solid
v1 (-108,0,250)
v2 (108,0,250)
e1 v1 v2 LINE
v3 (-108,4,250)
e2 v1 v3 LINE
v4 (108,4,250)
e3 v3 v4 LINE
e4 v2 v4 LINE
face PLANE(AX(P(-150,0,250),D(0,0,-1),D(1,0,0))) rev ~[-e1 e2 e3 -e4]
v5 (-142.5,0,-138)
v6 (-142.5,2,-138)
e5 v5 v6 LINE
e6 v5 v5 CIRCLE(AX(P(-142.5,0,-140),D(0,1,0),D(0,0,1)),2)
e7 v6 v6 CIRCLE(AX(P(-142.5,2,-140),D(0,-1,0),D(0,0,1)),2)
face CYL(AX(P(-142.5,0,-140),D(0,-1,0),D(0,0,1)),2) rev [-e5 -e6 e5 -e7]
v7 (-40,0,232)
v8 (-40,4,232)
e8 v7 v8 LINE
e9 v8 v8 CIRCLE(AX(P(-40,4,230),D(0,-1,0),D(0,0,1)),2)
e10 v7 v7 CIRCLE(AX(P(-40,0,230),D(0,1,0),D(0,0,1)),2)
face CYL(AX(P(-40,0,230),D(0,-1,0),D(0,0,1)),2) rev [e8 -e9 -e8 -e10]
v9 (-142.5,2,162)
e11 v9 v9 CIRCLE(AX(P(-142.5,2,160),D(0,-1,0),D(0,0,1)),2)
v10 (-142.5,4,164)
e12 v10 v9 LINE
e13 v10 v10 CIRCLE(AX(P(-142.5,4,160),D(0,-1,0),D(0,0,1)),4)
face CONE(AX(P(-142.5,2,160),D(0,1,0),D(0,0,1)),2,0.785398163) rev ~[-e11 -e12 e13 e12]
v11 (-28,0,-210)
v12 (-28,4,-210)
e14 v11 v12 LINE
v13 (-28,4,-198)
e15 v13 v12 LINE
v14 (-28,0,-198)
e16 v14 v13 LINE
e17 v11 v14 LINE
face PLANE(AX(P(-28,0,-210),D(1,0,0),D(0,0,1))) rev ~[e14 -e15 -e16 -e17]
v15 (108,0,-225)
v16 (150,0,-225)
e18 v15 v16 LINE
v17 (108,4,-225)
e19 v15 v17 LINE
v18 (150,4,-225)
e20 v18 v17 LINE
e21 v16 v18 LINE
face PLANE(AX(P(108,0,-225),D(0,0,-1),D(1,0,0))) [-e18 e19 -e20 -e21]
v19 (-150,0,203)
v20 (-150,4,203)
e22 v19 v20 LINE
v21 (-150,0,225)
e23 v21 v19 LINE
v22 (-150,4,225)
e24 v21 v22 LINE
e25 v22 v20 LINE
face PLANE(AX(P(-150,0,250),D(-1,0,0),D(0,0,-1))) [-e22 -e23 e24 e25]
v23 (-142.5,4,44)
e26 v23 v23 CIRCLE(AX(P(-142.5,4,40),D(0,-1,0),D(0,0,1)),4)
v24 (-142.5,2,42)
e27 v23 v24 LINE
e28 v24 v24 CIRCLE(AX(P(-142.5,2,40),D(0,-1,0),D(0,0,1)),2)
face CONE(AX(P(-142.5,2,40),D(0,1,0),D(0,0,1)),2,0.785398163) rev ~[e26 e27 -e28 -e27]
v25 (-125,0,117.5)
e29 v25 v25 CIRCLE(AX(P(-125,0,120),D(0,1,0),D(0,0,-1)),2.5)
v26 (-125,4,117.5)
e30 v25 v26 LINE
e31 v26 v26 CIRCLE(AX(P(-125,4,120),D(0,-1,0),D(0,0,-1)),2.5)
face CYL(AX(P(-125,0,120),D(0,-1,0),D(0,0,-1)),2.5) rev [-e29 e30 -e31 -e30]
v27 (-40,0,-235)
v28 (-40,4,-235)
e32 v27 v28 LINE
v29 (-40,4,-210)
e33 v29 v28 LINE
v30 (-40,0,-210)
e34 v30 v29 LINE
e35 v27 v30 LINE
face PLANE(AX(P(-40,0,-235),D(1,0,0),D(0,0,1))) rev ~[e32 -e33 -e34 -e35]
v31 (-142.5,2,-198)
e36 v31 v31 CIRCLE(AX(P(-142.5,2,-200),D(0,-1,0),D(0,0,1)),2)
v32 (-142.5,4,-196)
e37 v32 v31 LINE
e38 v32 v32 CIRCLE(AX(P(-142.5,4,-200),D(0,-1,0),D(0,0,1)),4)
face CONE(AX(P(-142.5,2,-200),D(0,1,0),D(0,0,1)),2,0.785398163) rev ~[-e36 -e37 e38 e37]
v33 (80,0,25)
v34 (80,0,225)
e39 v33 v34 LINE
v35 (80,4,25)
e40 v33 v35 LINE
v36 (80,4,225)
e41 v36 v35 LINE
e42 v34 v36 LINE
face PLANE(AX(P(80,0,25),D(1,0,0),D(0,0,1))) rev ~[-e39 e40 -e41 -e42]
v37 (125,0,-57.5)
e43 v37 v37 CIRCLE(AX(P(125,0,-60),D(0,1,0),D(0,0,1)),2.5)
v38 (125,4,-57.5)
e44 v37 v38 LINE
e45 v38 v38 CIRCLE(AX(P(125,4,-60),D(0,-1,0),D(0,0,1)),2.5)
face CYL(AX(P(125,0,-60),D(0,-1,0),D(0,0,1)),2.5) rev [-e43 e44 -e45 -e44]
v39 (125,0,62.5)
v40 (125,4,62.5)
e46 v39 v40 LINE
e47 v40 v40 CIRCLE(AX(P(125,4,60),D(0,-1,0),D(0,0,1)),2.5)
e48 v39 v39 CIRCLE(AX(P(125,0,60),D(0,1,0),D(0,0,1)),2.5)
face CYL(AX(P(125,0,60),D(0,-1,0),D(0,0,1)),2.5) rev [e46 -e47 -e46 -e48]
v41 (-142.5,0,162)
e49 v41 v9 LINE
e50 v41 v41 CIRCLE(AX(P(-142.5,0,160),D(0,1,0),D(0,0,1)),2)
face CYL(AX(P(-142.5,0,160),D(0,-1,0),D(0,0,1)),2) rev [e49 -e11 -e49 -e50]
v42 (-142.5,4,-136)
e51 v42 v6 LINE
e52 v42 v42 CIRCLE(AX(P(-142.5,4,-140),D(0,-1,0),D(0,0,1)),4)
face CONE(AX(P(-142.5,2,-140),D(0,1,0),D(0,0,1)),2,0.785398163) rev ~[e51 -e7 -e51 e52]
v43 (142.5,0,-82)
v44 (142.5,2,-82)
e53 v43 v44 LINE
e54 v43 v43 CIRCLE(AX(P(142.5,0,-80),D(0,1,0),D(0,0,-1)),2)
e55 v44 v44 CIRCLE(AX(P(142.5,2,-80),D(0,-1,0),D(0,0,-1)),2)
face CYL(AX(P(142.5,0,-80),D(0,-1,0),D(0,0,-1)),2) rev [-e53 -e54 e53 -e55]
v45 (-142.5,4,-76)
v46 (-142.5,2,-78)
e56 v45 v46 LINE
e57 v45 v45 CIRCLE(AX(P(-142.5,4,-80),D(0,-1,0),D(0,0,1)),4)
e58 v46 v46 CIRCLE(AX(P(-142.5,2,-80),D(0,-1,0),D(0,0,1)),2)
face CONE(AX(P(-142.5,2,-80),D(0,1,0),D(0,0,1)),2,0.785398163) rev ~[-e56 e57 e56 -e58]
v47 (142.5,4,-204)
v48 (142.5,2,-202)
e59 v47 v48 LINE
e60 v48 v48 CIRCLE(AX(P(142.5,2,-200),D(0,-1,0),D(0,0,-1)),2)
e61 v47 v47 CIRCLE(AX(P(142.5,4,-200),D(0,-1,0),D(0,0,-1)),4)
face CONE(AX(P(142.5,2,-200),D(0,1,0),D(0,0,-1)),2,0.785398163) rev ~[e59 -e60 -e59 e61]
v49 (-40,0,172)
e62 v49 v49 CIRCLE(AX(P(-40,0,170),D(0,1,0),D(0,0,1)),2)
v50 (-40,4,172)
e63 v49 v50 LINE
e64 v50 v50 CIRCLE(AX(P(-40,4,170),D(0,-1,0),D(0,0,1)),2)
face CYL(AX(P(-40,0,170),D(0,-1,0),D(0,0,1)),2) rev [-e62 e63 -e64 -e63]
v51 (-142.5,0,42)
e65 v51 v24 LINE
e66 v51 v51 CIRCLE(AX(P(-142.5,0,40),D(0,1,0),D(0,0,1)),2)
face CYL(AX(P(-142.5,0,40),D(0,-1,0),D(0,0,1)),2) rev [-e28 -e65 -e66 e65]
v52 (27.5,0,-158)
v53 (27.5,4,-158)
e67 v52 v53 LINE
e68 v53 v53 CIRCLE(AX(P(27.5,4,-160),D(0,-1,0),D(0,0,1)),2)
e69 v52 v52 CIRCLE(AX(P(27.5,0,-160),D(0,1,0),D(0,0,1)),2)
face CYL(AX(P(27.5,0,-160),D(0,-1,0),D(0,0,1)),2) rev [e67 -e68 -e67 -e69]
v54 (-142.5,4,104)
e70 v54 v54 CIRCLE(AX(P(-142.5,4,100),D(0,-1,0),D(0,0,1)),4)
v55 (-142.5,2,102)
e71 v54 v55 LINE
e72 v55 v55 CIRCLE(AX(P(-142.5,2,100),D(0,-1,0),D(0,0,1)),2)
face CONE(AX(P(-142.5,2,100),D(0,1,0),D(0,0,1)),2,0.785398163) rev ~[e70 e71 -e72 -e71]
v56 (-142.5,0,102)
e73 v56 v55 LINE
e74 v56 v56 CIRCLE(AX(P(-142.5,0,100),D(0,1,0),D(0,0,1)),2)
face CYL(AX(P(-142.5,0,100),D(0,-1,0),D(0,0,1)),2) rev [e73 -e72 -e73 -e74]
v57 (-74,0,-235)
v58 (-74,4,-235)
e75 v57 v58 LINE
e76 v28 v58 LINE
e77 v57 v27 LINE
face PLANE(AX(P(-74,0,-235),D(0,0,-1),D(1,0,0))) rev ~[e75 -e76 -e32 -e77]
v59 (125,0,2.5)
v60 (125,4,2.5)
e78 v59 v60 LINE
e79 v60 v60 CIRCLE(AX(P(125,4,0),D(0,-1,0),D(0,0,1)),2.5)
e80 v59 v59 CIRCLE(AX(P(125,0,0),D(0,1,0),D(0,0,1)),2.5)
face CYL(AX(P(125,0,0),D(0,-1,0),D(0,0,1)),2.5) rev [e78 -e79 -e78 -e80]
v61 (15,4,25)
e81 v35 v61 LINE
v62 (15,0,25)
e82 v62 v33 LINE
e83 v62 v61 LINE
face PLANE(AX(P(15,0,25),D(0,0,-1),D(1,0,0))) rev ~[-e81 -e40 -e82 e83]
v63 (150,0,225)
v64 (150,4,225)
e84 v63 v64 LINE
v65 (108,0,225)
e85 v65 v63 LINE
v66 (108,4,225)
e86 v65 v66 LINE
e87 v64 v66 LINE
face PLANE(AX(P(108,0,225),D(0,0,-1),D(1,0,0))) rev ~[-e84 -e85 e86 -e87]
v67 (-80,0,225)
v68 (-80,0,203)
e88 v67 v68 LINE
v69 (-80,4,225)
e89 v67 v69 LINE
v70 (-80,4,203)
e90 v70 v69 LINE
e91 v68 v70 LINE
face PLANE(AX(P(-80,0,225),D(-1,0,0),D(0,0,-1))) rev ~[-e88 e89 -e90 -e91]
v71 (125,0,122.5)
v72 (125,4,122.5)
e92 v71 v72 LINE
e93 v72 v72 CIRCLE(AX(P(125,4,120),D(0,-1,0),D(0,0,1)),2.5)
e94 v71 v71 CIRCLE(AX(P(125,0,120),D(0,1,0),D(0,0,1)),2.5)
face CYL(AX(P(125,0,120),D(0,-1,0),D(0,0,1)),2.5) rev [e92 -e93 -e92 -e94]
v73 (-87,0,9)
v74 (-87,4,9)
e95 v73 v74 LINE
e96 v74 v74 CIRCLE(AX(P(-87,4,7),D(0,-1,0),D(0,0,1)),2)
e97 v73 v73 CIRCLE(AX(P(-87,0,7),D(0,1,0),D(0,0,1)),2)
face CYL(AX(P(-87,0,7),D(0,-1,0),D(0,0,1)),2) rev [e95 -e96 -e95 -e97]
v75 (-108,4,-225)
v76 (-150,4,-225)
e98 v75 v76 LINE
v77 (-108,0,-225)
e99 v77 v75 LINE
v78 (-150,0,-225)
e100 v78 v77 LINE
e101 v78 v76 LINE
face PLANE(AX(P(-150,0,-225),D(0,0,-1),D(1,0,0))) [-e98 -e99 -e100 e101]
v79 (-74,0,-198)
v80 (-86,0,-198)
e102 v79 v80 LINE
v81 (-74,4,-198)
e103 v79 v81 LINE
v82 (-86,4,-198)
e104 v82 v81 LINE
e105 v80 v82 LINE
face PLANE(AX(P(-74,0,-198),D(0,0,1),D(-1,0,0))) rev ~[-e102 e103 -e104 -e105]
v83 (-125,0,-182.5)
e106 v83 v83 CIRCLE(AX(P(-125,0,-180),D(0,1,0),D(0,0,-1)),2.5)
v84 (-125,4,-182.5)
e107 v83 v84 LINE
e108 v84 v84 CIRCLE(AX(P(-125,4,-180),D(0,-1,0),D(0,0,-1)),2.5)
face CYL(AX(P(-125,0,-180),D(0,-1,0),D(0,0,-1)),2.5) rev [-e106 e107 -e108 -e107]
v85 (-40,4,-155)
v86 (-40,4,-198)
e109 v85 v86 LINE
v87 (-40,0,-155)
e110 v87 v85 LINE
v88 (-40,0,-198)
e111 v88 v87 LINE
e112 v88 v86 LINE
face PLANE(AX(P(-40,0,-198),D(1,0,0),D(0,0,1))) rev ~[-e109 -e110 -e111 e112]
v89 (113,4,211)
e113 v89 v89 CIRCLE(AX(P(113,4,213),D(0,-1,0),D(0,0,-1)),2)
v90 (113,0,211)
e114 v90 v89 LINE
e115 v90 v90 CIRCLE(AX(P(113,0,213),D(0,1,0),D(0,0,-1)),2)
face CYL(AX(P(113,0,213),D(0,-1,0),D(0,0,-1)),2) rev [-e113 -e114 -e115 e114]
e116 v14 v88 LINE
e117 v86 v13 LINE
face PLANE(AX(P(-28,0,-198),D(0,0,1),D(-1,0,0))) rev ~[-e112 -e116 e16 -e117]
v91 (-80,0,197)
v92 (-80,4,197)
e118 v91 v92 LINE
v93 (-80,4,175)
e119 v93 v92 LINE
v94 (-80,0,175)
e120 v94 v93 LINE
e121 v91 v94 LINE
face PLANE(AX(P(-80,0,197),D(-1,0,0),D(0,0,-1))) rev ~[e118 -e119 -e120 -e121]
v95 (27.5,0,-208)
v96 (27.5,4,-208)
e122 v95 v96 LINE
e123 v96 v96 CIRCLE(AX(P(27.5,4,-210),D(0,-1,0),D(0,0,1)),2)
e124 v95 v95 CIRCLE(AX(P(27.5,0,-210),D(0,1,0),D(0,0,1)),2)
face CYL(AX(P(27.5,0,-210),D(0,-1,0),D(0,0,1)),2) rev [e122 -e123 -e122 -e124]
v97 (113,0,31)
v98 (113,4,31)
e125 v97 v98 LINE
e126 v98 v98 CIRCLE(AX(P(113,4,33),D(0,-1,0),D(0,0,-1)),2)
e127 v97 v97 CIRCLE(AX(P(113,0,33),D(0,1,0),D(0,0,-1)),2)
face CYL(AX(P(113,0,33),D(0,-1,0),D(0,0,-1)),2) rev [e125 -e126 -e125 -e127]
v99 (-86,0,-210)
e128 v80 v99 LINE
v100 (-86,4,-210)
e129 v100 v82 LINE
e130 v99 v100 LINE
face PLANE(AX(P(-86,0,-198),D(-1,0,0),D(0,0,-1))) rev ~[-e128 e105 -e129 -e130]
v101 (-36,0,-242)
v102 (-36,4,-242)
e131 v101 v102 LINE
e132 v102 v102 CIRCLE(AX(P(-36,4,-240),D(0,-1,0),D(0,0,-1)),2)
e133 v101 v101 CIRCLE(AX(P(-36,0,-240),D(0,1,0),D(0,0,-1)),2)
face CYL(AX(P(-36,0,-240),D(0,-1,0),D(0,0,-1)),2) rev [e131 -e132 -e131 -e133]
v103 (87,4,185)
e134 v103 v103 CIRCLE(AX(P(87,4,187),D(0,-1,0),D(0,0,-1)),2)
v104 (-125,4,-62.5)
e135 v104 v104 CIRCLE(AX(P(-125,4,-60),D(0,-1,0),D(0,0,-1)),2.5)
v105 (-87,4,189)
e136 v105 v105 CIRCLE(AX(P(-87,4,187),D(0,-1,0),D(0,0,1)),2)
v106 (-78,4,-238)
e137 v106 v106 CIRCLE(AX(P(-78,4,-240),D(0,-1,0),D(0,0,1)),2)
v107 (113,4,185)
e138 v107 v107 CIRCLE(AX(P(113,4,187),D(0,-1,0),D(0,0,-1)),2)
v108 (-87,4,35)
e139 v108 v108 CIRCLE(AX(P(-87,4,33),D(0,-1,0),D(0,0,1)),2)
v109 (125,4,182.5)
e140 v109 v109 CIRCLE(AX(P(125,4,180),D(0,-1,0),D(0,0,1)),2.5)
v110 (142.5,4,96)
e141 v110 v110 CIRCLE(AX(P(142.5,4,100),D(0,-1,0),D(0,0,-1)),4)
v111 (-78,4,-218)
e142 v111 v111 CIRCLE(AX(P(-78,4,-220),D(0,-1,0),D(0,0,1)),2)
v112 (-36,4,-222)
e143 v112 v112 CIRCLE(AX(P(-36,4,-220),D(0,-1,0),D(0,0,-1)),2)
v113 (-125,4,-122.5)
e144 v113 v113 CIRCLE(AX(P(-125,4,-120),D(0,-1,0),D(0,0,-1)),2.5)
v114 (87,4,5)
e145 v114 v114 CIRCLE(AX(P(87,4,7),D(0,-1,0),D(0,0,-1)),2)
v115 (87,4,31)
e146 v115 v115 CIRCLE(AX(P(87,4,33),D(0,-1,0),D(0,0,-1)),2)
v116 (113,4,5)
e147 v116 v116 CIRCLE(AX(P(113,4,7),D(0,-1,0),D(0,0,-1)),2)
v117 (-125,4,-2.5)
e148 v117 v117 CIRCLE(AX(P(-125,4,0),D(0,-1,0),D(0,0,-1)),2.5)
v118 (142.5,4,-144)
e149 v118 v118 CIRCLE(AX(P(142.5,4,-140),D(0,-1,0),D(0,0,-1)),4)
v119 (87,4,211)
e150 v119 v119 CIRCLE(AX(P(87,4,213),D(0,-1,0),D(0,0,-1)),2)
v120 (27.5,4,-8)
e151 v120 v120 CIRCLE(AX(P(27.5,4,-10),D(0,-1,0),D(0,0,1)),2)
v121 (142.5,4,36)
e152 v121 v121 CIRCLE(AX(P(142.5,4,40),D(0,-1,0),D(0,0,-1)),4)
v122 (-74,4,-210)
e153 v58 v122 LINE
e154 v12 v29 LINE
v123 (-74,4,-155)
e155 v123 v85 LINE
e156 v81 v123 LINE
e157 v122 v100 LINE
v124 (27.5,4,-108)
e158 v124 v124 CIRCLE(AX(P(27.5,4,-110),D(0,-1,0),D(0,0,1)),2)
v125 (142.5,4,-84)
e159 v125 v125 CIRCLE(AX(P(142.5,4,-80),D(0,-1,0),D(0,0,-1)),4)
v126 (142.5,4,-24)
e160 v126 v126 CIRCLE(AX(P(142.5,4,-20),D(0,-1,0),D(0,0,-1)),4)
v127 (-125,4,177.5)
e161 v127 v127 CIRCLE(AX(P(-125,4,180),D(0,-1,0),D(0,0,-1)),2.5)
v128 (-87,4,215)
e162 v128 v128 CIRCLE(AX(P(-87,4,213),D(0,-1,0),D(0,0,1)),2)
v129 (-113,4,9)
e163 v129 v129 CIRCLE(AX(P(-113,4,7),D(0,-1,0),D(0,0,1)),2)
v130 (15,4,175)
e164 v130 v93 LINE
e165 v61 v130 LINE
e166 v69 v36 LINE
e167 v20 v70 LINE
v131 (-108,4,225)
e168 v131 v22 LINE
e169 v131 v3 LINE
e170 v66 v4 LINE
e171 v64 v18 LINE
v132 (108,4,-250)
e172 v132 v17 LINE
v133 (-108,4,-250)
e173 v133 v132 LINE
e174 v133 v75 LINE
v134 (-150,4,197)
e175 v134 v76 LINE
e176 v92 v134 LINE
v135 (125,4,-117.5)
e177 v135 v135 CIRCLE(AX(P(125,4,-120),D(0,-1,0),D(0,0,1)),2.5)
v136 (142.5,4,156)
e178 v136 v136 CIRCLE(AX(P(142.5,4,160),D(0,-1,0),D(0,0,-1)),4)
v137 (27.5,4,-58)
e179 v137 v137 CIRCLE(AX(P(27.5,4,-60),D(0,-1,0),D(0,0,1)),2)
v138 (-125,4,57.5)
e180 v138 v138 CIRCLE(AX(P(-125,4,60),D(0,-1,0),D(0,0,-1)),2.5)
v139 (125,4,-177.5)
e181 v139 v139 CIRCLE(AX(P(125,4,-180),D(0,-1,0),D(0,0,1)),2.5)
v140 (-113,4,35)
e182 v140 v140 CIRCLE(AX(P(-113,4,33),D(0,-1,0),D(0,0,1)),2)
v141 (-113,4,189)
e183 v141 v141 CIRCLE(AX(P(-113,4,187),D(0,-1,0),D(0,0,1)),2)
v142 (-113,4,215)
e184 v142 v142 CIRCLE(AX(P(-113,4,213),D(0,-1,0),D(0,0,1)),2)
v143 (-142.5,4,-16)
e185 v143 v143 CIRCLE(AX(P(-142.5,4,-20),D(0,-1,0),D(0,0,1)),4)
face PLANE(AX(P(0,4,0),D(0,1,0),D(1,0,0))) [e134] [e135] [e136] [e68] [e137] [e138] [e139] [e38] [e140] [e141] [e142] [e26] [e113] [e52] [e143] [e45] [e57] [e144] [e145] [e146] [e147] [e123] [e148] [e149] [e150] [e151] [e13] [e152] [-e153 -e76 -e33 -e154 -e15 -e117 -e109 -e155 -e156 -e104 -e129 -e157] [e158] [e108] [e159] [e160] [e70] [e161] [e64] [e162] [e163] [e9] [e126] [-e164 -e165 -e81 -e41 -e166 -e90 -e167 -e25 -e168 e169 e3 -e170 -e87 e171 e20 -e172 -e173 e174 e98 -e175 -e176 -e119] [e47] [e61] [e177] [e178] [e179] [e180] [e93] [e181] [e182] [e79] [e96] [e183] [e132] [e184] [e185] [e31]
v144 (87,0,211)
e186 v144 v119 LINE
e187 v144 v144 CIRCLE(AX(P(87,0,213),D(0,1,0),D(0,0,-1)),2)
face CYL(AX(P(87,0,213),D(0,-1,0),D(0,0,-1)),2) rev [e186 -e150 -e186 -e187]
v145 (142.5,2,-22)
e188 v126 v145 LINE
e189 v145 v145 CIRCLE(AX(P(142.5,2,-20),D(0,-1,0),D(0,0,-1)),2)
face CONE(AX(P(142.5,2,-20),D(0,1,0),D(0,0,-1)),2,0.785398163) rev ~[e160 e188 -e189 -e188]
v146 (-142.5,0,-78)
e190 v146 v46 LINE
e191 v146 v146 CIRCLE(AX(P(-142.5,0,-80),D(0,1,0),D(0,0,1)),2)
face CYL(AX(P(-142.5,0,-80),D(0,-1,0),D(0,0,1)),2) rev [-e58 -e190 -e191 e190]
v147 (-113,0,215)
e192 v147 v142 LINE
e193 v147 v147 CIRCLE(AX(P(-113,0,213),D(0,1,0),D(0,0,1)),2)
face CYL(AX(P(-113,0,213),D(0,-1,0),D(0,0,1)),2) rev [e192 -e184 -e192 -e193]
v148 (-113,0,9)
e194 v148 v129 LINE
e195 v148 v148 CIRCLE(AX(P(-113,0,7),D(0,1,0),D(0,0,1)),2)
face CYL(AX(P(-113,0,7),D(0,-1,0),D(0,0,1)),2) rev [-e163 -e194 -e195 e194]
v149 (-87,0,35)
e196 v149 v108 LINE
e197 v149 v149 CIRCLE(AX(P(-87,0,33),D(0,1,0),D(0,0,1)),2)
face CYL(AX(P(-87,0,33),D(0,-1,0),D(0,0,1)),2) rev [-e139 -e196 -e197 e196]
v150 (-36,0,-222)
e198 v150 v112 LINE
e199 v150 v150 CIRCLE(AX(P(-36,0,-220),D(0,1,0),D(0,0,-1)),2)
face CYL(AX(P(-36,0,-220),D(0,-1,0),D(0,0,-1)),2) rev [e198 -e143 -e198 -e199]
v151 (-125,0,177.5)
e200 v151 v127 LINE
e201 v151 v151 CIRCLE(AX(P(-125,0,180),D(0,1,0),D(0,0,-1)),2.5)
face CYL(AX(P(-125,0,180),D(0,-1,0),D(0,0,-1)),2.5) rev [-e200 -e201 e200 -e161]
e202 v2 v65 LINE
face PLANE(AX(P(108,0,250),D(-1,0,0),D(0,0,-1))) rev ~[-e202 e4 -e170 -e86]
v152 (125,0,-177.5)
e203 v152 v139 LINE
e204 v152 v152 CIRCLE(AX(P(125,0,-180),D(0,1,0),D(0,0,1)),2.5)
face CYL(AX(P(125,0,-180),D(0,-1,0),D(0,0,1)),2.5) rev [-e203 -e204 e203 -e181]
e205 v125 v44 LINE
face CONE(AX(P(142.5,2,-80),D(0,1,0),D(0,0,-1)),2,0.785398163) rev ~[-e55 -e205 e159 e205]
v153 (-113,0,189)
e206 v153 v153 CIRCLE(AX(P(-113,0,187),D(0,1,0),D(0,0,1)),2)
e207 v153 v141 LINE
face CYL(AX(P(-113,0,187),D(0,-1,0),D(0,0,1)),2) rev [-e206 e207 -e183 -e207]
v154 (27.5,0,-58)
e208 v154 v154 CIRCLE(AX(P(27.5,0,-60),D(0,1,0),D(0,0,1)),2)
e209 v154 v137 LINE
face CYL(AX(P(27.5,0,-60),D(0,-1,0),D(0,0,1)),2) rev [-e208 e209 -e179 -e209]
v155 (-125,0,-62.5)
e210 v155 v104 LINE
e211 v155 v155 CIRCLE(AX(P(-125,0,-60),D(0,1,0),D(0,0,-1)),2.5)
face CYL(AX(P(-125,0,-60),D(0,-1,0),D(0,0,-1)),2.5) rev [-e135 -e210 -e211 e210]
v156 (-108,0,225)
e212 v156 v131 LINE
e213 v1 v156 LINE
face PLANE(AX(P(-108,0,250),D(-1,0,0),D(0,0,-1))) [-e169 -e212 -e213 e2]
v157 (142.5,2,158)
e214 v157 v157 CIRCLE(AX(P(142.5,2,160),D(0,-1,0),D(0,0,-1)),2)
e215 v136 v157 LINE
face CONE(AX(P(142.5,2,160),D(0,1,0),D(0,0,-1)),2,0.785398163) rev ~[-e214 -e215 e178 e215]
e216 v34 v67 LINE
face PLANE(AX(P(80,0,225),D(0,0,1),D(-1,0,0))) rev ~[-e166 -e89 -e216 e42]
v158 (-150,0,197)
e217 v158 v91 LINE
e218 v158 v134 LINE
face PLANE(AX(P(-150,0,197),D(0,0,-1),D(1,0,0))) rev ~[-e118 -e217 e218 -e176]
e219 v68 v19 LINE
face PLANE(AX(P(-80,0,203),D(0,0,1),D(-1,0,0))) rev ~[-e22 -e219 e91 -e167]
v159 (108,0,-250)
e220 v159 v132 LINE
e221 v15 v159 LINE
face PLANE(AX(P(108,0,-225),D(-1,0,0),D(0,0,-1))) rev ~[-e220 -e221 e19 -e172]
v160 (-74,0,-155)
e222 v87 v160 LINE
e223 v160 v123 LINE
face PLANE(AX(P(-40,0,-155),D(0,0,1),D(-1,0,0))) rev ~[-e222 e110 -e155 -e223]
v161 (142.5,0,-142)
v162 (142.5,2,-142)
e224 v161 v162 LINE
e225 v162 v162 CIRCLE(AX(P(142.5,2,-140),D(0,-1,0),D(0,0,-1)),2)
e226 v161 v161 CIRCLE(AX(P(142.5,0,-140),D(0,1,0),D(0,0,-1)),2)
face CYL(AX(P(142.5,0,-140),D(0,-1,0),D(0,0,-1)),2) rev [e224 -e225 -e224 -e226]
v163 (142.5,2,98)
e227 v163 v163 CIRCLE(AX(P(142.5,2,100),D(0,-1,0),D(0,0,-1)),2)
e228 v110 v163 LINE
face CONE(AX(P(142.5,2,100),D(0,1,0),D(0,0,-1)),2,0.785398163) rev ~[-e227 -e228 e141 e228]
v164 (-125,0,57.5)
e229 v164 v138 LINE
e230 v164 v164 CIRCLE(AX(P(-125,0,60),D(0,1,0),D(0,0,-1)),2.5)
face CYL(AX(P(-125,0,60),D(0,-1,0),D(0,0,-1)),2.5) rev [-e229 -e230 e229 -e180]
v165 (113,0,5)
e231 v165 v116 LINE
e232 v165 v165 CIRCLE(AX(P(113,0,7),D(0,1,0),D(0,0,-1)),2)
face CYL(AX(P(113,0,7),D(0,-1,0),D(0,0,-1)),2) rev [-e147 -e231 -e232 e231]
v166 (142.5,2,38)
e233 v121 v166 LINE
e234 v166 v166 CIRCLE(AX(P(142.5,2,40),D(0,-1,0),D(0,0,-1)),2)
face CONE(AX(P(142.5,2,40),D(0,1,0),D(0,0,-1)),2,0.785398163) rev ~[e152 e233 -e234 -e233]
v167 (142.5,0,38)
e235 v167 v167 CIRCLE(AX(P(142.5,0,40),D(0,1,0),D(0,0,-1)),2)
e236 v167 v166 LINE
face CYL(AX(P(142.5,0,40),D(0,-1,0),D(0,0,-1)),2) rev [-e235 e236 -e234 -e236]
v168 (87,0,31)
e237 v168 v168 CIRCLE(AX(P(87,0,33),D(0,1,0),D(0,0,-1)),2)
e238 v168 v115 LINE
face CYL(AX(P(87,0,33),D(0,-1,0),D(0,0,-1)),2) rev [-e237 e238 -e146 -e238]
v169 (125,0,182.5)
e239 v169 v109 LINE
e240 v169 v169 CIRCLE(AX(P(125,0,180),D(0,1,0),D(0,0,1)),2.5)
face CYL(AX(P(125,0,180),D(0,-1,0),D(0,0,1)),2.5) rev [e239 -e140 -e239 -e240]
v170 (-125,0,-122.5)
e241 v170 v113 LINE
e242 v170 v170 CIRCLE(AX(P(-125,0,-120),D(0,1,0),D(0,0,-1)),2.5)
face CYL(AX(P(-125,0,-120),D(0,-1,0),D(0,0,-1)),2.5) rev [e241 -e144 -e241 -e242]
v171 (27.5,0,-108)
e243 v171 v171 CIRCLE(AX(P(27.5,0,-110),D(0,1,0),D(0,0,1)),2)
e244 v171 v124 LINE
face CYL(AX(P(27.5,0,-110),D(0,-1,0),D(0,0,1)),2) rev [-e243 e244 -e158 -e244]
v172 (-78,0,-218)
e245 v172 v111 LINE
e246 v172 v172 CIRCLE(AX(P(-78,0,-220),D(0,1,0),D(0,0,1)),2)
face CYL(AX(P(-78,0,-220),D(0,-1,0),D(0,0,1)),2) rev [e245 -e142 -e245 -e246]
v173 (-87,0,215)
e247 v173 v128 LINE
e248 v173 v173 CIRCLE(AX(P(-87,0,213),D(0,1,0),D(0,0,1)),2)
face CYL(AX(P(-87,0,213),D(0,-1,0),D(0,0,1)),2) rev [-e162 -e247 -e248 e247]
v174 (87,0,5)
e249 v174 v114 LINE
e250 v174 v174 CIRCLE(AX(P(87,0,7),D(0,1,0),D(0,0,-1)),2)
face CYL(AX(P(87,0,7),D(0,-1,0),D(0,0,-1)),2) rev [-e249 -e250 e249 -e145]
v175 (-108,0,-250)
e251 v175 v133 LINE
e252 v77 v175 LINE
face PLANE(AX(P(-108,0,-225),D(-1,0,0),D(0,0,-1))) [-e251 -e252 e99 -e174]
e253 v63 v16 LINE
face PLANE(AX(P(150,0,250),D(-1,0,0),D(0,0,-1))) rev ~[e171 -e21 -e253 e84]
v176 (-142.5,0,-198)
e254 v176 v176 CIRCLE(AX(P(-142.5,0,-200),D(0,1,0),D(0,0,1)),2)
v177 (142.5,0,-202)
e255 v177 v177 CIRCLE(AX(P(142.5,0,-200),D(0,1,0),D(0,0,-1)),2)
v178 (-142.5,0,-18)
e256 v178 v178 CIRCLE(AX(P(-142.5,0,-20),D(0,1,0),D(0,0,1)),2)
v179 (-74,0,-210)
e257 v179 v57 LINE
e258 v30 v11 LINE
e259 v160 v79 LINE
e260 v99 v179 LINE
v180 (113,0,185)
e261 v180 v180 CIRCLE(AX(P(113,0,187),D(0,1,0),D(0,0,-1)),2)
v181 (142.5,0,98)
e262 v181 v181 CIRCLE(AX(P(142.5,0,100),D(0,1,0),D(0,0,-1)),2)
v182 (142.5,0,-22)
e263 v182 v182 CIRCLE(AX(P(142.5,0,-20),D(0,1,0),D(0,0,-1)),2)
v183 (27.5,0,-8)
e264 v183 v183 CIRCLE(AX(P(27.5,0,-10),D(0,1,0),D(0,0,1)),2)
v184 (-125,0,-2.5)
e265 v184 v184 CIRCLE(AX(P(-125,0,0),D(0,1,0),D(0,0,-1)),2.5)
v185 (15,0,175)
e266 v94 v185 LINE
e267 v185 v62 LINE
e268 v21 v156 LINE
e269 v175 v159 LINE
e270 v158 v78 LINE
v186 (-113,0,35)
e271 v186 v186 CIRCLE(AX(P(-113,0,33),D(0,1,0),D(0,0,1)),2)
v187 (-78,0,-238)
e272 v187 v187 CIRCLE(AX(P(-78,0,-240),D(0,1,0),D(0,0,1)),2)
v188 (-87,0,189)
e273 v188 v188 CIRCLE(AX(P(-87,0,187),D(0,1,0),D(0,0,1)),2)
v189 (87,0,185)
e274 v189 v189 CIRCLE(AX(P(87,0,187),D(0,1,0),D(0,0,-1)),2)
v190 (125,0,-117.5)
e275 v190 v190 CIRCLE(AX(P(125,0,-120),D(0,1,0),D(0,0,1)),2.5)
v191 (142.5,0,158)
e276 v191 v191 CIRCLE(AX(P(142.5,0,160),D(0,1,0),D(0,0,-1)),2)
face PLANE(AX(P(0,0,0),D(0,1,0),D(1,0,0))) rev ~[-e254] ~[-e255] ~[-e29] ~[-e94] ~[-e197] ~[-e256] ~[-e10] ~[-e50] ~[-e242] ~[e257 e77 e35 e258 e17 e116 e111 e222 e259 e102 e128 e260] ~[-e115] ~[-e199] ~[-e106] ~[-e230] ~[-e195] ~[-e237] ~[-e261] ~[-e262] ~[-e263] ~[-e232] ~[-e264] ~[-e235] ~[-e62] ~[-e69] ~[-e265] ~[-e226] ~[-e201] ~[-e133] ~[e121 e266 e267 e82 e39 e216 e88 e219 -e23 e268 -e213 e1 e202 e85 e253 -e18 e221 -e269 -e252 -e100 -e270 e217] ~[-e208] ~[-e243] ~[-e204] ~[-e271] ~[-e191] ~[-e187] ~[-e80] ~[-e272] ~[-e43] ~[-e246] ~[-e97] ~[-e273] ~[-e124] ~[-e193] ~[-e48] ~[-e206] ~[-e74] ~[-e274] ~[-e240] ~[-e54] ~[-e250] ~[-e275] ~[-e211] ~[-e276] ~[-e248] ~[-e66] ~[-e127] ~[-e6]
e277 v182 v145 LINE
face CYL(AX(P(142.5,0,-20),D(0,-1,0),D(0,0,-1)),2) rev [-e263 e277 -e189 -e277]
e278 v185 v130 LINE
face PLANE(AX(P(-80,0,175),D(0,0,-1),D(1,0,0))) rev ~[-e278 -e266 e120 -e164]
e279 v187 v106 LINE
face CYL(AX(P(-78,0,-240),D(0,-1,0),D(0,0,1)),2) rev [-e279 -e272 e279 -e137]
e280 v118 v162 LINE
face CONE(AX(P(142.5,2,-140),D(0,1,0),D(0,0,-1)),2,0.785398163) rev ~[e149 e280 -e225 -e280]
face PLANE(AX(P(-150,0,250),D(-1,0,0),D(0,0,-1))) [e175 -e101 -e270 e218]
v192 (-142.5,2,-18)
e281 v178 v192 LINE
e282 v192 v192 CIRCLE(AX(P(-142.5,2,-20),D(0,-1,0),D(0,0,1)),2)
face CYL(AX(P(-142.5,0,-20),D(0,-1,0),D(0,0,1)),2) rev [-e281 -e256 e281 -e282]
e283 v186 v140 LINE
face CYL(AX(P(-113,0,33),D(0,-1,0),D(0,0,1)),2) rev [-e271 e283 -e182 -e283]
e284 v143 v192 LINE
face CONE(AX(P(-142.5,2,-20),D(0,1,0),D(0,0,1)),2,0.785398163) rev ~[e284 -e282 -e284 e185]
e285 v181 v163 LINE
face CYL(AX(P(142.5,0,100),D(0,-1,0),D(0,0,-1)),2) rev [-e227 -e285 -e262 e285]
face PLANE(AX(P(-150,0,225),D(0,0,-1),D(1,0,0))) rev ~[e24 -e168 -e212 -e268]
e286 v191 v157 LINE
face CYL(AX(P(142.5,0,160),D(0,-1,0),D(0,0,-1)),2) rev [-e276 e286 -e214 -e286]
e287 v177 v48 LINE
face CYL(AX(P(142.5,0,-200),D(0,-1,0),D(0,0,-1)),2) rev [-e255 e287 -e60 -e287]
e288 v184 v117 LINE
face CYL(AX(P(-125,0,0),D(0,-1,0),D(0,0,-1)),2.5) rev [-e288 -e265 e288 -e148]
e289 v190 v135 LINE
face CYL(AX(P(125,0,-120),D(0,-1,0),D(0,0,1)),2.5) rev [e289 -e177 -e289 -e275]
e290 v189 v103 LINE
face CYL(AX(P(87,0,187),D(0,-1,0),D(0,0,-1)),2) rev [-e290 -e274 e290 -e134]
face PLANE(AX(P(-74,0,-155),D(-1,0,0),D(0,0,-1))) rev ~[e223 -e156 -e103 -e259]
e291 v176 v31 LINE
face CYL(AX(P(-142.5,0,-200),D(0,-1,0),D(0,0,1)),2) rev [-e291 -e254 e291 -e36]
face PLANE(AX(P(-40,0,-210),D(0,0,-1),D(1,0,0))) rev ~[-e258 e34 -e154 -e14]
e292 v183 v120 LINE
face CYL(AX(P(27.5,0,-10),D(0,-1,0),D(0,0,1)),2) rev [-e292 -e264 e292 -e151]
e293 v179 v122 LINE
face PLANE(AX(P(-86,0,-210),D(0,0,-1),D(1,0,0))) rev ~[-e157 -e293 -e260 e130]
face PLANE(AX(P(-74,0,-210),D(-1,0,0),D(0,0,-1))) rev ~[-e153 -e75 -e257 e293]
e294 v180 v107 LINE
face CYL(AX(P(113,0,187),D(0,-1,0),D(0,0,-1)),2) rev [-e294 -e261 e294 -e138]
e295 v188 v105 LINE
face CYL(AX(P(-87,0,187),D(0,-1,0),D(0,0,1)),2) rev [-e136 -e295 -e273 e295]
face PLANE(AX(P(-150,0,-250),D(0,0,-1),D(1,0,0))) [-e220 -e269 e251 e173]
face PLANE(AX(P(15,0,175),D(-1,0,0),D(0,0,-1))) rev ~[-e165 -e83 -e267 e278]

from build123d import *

# Parameters (mm, degrees)
SKETCH_1_W          = 300
SKETCH_1_H          = 500
EXTRUDE_1_DEPTH     = 4
SKETCH_2_R          = 2.5
CUT_EXTRUDE_5_DEPTH = 292.575033225
SKETCH_4_R          = 2
SKETCH_4_W          = 42
SKETCH_4_H          = 25
CUT_EXTRUDE_4_DEPTH = 292.575033225
SKETCH_5_R          = 2
CUT_EXTRUDE_6_DEPTH = 10
SKETCH_3_R          = 2
CUT_EXTRUDE_2_DEPTH = 292.575033225
CHAMFER_1_SIZE      = 2


with BuildPart() as part:
    # 草图1 → 凸台-拉伸1 (new body)
    with BuildSketch(Plane(origin=(0, 0, 0), x_dir=(1, 0, 0), z_dir=(0, 1, 0))):
        Rectangle(SKETCH_1_W, SKETCH_1_H)
    extrude(amount=EXTRUDE_1_DEPTH)

    # 草图2 → 切除-拉伸5 (cut, through all)
    with BuildSketch(Plane(origin=(0, 0, 0), x_dir=(1, 0, 0), z_dir=(0, 1, 0))):
        with Locations(Location((125, -180, 0), (0, 0, 270))):
            Circle(SKETCH_2_R)
        with Locations(Location((125, -120, 0), (0, 0, 270))):
            Circle(SKETCH_2_R)
        with Locations(Location((125, -60, 0), (0, 0, 270))):
            Circle(SKETCH_2_R)
        with Locations(Location((125, 0, 0), (0, 0, 270))):
            Circle(SKETCH_2_R)
        with Locations(Location((125, 60, 0), (0, 0, 270))):
            Circle(SKETCH_2_R)
        with Locations(Location((125, 120, 0), (0, 0, 270))):
            Circle(SKETCH_2_R)
        with Locations(Location((125, 180, 0), (0, 0, 270))):
            Circle(SKETCH_2_R)
        with Locations(Location((-125, 180, 0), (0, 0, 90))):
            Circle(SKETCH_2_R)
        with Locations(Location((-125, 120, 0), (0, 0, 90))):
            Circle(SKETCH_2_R)
        with Locations(Location((-125, 60, 0), (0, 0, 90))):
            Circle(SKETCH_2_R)
        with Locations(Location((-125, 0, 0), (0, 0, 90))):
            Circle(SKETCH_2_R)
        with Locations(Location((-125, -60, 0), (0, 0, 90))):
            Circle(SKETCH_2_R)
        with Locations(Location((-125, -120, 0), (0, 0, 90))):
            Circle(SKETCH_2_R)
        with Locations(Location((-125, -180, 0), (0, 0, 90))):
            Circle(SKETCH_2_R)
    extrude(amount=CUT_EXTRUDE_5_DEPTH, mode=Mode.SUBTRACT)

    # 草图4 → 切除-拉伸4 (cut, through all)
    with BuildSketch(Plane(origin=(0, 0, 0), x_dir=(1, 0, 0), z_dir=(0, 1, 0))):
        with Locations(Location((-78, 240, 0), (0, 0, 270))):
            Circle(SKETCH_4_R)
        with Locations(Location((-78, 220, 0), (0, 0, 270))):
            Circle(SKETCH_4_R)
        with Locations(Location((-36, 220, 0), (0, 0, 90))):
            Circle(SKETCH_4_R)
        with Locations(Location((-36, 240, 0), (0, 0, 90))):
            Circle(SKETCH_4_R)
        Polygon((-80, -175), (15, -175), (15, -25), (80, -25), (80, -225), (-80, -225), (-80, -203), (-150, -203), (-150, -197), (-80, -197), align=None)
        Polygon((-74, 235), (-40, 235), (-40, 210), (-28, 210), (-28, 198), (-40, 198), (-40, 155), (-74, 155), (-74, 198), (-86, 198), (-86, 210), (-74, 210), align=None)
        with Locations((129, 237.5)):
            Rectangle(SKETCH_4_W, SKETCH_4_H)
        with Locations((-129, 237.5)):
            Rectangle(SKETCH_4_W, SKETCH_4_H)
        with Locations((129, -237.5)):
            Rectangle(SKETCH_4_W, SKETCH_4_H)
        with Locations((-129, -237.5)):
            Rectangle(SKETCH_4_W, SKETCH_4_H)
    extrude(amount=CUT_EXTRUDE_4_DEPTH, mode=Mode.SUBTRACT)

    # 草图5 → 切除-拉伸6 (cut)
    with BuildSketch(Plane(origin=(0, 0, 0), x_dir=(1, 0, 0), z_dir=(0, 1, 0))):
        with Locations(Location((-40, -170, 0), (0, 0, 270))):
            Circle(SKETCH_5_R)
        with Locations(Location((-40, -230, 0), (0, 0, 270))):
            Circle(SKETCH_5_R)
    extrude(amount=CUT_EXTRUDE_6_DEPTH, mode=Mode.SUBTRACT)

    # 草图3 → 切除-拉伸2 (cut, through all)
    with BuildSketch(Plane(origin=(0, 0, 0), x_dir=(1, 0, 0), z_dir=(0, 1, 0))):
        with Locations(Location((-113, -187, 0), (0, 0, 270))):
            Circle(SKETCH_3_R)
        with Locations(Location((-87, -187, 0), (0, 0, 270))):
            Circle(SKETCH_3_R)
        with Locations(Location((-113, -213, 0), (0, 0, 270))):
            Circle(SKETCH_3_R)
        with Locations(Location((-87, -213, 0), (0, 0, 270))):
            Circle(SKETCH_3_R)
        with Locations(Location((-113, -7, 0), (0, 0, 270))):
            Circle(SKETCH_3_R)
        with Locations(Location((-113, -33, 0), (0, 0, 270))):
            Circle(SKETCH_3_R)
        with Locations(Location((-87, -7, 0), (0, 0, 270))):
            Circle(SKETCH_3_R)
        with Locations(Location((-87, -33, 0), (0, 0, 270))):
            Circle(SKETCH_3_R)
        with Locations(Location((87, -33, 0), (0, 0, 90))):
            Circle(SKETCH_3_R)
        with Locations(Location((87, -7, 0), (0, 0, 90))):
            Circle(SKETCH_3_R)
        with Locations(Location((113, -33, 0), (0, 0, 90))):
            Circle(SKETCH_3_R)
        with Locations(Location((113, -7, 0), (0, 0, 90))):
            Circle(SKETCH_3_R)
        with Locations(Location((87, -213, 0), (0, 0, 90))):
            Circle(SKETCH_3_R)
        with Locations(Location((113, -213, 0), (0, 0, 90))):
            Circle(SKETCH_3_R)
        with Locations(Location((87, -187, 0), (0, 0, 90))):
            Circle(SKETCH_3_R)
        with Locations(Location((113, -187, 0), (0, 0, 90))):
            Circle(SKETCH_3_R)
        with Locations(Location((-142.5, -160, 0), (0, 0, 270))):
            Circle(SKETCH_3_R)
        with Locations(Location((-142.5, -100, 0), (0, 0, 270))):
            Circle(SKETCH_3_R)
        with Locations(Location((-142.5, -40, 0), (0, 0, 270))):
            Circle(SKETCH_3_R)
        with Locations(Location((-142.5, 20, 0), (0, 0, 270))):
            Circle(SKETCH_3_R)
        with Locations(Location((-142.5, 80, 0), (0, 0, 270))):
            Circle(SKETCH_3_R)
        with Locations(Location((-142.5, 140, 0), (0, 0, 270))):
            Circle(SKETCH_3_R)
        with Locations(Location((-142.5, 200, 0), (0, 0, 270))):
            Circle(SKETCH_3_R)
        with Locations(Location((142.5, 200, 0), (0, 0, 90))):
            Circle(SKETCH_3_R)
        with Locations(Location((142.5, 140, 0), (0, 0, 90))):
            Circle(SKETCH_3_R)
        with Locations(Location((142.5, 80, 0), (0, 0, 90))):
            Circle(SKETCH_3_R)
        with Locations(Location((142.5, 20, 0), (0, 0, 90))):
            Circle(SKETCH_3_R)
        with Locations(Location((142.5, -40, 0), (0, 0, 90))):
            Circle(SKETCH_3_R)
        with Locations(Location((142.5, -100, 0), (0, 0, 90))):
            Circle(SKETCH_3_R)
        with Locations(Location((142.5, -160, 0), (0, 0, 90))):
            Circle(SKETCH_3_R)
        with Locations((27.5, -40)):
            Circle(SKETCH_3_R)
        with Locations(Location((27.5, 10, 0), (0, 0, 270))):
            Circle(SKETCH_3_R)
        with Locations(Location((27.5, 60, 0), (0, 0, 270))):
            Circle(SKETCH_3_R)
        with Locations(Location((27.5, 110, 0), (0, 0, 270))):
            Circle(SKETCH_3_R)
        with Locations(Location((27.5, 160, 0), (0, 0, 270))):
            Circle(SKETCH_3_R)
        with Locations(Location((27.5, 210, 0), (0, 0, 270))):
            Circle(SKETCH_3_R)
    extrude(amount=CUT_EXTRUDE_2_DEPTH, mode=Mode.SUBTRACT)

    # 倒角1
    chamfer_1_edges = [part.edges().sort_by_distance(p)[0] for p in [
        (-142.5, 4, -82),
        (-142.5, 4, -142),
        (-142.5, 4, -202),
        (142.5, 4, -138),
        (142.5, 4, -198),
        (-142.5, 4, 98),
        (-142.5, 4, 38),
        (-142.5, 4, -22),
        (142.5, 4, 162),
        (142.5, 4, 102),
        (142.5, 4, 42),
        (142.5, 4, -18),
        (142.5, 4, -78),
        (-142.5, 4, 158),
    ]]
    chamfer(chamfer_1_edges, length=CHAMFER_1_SIZE)


solid = part.part
